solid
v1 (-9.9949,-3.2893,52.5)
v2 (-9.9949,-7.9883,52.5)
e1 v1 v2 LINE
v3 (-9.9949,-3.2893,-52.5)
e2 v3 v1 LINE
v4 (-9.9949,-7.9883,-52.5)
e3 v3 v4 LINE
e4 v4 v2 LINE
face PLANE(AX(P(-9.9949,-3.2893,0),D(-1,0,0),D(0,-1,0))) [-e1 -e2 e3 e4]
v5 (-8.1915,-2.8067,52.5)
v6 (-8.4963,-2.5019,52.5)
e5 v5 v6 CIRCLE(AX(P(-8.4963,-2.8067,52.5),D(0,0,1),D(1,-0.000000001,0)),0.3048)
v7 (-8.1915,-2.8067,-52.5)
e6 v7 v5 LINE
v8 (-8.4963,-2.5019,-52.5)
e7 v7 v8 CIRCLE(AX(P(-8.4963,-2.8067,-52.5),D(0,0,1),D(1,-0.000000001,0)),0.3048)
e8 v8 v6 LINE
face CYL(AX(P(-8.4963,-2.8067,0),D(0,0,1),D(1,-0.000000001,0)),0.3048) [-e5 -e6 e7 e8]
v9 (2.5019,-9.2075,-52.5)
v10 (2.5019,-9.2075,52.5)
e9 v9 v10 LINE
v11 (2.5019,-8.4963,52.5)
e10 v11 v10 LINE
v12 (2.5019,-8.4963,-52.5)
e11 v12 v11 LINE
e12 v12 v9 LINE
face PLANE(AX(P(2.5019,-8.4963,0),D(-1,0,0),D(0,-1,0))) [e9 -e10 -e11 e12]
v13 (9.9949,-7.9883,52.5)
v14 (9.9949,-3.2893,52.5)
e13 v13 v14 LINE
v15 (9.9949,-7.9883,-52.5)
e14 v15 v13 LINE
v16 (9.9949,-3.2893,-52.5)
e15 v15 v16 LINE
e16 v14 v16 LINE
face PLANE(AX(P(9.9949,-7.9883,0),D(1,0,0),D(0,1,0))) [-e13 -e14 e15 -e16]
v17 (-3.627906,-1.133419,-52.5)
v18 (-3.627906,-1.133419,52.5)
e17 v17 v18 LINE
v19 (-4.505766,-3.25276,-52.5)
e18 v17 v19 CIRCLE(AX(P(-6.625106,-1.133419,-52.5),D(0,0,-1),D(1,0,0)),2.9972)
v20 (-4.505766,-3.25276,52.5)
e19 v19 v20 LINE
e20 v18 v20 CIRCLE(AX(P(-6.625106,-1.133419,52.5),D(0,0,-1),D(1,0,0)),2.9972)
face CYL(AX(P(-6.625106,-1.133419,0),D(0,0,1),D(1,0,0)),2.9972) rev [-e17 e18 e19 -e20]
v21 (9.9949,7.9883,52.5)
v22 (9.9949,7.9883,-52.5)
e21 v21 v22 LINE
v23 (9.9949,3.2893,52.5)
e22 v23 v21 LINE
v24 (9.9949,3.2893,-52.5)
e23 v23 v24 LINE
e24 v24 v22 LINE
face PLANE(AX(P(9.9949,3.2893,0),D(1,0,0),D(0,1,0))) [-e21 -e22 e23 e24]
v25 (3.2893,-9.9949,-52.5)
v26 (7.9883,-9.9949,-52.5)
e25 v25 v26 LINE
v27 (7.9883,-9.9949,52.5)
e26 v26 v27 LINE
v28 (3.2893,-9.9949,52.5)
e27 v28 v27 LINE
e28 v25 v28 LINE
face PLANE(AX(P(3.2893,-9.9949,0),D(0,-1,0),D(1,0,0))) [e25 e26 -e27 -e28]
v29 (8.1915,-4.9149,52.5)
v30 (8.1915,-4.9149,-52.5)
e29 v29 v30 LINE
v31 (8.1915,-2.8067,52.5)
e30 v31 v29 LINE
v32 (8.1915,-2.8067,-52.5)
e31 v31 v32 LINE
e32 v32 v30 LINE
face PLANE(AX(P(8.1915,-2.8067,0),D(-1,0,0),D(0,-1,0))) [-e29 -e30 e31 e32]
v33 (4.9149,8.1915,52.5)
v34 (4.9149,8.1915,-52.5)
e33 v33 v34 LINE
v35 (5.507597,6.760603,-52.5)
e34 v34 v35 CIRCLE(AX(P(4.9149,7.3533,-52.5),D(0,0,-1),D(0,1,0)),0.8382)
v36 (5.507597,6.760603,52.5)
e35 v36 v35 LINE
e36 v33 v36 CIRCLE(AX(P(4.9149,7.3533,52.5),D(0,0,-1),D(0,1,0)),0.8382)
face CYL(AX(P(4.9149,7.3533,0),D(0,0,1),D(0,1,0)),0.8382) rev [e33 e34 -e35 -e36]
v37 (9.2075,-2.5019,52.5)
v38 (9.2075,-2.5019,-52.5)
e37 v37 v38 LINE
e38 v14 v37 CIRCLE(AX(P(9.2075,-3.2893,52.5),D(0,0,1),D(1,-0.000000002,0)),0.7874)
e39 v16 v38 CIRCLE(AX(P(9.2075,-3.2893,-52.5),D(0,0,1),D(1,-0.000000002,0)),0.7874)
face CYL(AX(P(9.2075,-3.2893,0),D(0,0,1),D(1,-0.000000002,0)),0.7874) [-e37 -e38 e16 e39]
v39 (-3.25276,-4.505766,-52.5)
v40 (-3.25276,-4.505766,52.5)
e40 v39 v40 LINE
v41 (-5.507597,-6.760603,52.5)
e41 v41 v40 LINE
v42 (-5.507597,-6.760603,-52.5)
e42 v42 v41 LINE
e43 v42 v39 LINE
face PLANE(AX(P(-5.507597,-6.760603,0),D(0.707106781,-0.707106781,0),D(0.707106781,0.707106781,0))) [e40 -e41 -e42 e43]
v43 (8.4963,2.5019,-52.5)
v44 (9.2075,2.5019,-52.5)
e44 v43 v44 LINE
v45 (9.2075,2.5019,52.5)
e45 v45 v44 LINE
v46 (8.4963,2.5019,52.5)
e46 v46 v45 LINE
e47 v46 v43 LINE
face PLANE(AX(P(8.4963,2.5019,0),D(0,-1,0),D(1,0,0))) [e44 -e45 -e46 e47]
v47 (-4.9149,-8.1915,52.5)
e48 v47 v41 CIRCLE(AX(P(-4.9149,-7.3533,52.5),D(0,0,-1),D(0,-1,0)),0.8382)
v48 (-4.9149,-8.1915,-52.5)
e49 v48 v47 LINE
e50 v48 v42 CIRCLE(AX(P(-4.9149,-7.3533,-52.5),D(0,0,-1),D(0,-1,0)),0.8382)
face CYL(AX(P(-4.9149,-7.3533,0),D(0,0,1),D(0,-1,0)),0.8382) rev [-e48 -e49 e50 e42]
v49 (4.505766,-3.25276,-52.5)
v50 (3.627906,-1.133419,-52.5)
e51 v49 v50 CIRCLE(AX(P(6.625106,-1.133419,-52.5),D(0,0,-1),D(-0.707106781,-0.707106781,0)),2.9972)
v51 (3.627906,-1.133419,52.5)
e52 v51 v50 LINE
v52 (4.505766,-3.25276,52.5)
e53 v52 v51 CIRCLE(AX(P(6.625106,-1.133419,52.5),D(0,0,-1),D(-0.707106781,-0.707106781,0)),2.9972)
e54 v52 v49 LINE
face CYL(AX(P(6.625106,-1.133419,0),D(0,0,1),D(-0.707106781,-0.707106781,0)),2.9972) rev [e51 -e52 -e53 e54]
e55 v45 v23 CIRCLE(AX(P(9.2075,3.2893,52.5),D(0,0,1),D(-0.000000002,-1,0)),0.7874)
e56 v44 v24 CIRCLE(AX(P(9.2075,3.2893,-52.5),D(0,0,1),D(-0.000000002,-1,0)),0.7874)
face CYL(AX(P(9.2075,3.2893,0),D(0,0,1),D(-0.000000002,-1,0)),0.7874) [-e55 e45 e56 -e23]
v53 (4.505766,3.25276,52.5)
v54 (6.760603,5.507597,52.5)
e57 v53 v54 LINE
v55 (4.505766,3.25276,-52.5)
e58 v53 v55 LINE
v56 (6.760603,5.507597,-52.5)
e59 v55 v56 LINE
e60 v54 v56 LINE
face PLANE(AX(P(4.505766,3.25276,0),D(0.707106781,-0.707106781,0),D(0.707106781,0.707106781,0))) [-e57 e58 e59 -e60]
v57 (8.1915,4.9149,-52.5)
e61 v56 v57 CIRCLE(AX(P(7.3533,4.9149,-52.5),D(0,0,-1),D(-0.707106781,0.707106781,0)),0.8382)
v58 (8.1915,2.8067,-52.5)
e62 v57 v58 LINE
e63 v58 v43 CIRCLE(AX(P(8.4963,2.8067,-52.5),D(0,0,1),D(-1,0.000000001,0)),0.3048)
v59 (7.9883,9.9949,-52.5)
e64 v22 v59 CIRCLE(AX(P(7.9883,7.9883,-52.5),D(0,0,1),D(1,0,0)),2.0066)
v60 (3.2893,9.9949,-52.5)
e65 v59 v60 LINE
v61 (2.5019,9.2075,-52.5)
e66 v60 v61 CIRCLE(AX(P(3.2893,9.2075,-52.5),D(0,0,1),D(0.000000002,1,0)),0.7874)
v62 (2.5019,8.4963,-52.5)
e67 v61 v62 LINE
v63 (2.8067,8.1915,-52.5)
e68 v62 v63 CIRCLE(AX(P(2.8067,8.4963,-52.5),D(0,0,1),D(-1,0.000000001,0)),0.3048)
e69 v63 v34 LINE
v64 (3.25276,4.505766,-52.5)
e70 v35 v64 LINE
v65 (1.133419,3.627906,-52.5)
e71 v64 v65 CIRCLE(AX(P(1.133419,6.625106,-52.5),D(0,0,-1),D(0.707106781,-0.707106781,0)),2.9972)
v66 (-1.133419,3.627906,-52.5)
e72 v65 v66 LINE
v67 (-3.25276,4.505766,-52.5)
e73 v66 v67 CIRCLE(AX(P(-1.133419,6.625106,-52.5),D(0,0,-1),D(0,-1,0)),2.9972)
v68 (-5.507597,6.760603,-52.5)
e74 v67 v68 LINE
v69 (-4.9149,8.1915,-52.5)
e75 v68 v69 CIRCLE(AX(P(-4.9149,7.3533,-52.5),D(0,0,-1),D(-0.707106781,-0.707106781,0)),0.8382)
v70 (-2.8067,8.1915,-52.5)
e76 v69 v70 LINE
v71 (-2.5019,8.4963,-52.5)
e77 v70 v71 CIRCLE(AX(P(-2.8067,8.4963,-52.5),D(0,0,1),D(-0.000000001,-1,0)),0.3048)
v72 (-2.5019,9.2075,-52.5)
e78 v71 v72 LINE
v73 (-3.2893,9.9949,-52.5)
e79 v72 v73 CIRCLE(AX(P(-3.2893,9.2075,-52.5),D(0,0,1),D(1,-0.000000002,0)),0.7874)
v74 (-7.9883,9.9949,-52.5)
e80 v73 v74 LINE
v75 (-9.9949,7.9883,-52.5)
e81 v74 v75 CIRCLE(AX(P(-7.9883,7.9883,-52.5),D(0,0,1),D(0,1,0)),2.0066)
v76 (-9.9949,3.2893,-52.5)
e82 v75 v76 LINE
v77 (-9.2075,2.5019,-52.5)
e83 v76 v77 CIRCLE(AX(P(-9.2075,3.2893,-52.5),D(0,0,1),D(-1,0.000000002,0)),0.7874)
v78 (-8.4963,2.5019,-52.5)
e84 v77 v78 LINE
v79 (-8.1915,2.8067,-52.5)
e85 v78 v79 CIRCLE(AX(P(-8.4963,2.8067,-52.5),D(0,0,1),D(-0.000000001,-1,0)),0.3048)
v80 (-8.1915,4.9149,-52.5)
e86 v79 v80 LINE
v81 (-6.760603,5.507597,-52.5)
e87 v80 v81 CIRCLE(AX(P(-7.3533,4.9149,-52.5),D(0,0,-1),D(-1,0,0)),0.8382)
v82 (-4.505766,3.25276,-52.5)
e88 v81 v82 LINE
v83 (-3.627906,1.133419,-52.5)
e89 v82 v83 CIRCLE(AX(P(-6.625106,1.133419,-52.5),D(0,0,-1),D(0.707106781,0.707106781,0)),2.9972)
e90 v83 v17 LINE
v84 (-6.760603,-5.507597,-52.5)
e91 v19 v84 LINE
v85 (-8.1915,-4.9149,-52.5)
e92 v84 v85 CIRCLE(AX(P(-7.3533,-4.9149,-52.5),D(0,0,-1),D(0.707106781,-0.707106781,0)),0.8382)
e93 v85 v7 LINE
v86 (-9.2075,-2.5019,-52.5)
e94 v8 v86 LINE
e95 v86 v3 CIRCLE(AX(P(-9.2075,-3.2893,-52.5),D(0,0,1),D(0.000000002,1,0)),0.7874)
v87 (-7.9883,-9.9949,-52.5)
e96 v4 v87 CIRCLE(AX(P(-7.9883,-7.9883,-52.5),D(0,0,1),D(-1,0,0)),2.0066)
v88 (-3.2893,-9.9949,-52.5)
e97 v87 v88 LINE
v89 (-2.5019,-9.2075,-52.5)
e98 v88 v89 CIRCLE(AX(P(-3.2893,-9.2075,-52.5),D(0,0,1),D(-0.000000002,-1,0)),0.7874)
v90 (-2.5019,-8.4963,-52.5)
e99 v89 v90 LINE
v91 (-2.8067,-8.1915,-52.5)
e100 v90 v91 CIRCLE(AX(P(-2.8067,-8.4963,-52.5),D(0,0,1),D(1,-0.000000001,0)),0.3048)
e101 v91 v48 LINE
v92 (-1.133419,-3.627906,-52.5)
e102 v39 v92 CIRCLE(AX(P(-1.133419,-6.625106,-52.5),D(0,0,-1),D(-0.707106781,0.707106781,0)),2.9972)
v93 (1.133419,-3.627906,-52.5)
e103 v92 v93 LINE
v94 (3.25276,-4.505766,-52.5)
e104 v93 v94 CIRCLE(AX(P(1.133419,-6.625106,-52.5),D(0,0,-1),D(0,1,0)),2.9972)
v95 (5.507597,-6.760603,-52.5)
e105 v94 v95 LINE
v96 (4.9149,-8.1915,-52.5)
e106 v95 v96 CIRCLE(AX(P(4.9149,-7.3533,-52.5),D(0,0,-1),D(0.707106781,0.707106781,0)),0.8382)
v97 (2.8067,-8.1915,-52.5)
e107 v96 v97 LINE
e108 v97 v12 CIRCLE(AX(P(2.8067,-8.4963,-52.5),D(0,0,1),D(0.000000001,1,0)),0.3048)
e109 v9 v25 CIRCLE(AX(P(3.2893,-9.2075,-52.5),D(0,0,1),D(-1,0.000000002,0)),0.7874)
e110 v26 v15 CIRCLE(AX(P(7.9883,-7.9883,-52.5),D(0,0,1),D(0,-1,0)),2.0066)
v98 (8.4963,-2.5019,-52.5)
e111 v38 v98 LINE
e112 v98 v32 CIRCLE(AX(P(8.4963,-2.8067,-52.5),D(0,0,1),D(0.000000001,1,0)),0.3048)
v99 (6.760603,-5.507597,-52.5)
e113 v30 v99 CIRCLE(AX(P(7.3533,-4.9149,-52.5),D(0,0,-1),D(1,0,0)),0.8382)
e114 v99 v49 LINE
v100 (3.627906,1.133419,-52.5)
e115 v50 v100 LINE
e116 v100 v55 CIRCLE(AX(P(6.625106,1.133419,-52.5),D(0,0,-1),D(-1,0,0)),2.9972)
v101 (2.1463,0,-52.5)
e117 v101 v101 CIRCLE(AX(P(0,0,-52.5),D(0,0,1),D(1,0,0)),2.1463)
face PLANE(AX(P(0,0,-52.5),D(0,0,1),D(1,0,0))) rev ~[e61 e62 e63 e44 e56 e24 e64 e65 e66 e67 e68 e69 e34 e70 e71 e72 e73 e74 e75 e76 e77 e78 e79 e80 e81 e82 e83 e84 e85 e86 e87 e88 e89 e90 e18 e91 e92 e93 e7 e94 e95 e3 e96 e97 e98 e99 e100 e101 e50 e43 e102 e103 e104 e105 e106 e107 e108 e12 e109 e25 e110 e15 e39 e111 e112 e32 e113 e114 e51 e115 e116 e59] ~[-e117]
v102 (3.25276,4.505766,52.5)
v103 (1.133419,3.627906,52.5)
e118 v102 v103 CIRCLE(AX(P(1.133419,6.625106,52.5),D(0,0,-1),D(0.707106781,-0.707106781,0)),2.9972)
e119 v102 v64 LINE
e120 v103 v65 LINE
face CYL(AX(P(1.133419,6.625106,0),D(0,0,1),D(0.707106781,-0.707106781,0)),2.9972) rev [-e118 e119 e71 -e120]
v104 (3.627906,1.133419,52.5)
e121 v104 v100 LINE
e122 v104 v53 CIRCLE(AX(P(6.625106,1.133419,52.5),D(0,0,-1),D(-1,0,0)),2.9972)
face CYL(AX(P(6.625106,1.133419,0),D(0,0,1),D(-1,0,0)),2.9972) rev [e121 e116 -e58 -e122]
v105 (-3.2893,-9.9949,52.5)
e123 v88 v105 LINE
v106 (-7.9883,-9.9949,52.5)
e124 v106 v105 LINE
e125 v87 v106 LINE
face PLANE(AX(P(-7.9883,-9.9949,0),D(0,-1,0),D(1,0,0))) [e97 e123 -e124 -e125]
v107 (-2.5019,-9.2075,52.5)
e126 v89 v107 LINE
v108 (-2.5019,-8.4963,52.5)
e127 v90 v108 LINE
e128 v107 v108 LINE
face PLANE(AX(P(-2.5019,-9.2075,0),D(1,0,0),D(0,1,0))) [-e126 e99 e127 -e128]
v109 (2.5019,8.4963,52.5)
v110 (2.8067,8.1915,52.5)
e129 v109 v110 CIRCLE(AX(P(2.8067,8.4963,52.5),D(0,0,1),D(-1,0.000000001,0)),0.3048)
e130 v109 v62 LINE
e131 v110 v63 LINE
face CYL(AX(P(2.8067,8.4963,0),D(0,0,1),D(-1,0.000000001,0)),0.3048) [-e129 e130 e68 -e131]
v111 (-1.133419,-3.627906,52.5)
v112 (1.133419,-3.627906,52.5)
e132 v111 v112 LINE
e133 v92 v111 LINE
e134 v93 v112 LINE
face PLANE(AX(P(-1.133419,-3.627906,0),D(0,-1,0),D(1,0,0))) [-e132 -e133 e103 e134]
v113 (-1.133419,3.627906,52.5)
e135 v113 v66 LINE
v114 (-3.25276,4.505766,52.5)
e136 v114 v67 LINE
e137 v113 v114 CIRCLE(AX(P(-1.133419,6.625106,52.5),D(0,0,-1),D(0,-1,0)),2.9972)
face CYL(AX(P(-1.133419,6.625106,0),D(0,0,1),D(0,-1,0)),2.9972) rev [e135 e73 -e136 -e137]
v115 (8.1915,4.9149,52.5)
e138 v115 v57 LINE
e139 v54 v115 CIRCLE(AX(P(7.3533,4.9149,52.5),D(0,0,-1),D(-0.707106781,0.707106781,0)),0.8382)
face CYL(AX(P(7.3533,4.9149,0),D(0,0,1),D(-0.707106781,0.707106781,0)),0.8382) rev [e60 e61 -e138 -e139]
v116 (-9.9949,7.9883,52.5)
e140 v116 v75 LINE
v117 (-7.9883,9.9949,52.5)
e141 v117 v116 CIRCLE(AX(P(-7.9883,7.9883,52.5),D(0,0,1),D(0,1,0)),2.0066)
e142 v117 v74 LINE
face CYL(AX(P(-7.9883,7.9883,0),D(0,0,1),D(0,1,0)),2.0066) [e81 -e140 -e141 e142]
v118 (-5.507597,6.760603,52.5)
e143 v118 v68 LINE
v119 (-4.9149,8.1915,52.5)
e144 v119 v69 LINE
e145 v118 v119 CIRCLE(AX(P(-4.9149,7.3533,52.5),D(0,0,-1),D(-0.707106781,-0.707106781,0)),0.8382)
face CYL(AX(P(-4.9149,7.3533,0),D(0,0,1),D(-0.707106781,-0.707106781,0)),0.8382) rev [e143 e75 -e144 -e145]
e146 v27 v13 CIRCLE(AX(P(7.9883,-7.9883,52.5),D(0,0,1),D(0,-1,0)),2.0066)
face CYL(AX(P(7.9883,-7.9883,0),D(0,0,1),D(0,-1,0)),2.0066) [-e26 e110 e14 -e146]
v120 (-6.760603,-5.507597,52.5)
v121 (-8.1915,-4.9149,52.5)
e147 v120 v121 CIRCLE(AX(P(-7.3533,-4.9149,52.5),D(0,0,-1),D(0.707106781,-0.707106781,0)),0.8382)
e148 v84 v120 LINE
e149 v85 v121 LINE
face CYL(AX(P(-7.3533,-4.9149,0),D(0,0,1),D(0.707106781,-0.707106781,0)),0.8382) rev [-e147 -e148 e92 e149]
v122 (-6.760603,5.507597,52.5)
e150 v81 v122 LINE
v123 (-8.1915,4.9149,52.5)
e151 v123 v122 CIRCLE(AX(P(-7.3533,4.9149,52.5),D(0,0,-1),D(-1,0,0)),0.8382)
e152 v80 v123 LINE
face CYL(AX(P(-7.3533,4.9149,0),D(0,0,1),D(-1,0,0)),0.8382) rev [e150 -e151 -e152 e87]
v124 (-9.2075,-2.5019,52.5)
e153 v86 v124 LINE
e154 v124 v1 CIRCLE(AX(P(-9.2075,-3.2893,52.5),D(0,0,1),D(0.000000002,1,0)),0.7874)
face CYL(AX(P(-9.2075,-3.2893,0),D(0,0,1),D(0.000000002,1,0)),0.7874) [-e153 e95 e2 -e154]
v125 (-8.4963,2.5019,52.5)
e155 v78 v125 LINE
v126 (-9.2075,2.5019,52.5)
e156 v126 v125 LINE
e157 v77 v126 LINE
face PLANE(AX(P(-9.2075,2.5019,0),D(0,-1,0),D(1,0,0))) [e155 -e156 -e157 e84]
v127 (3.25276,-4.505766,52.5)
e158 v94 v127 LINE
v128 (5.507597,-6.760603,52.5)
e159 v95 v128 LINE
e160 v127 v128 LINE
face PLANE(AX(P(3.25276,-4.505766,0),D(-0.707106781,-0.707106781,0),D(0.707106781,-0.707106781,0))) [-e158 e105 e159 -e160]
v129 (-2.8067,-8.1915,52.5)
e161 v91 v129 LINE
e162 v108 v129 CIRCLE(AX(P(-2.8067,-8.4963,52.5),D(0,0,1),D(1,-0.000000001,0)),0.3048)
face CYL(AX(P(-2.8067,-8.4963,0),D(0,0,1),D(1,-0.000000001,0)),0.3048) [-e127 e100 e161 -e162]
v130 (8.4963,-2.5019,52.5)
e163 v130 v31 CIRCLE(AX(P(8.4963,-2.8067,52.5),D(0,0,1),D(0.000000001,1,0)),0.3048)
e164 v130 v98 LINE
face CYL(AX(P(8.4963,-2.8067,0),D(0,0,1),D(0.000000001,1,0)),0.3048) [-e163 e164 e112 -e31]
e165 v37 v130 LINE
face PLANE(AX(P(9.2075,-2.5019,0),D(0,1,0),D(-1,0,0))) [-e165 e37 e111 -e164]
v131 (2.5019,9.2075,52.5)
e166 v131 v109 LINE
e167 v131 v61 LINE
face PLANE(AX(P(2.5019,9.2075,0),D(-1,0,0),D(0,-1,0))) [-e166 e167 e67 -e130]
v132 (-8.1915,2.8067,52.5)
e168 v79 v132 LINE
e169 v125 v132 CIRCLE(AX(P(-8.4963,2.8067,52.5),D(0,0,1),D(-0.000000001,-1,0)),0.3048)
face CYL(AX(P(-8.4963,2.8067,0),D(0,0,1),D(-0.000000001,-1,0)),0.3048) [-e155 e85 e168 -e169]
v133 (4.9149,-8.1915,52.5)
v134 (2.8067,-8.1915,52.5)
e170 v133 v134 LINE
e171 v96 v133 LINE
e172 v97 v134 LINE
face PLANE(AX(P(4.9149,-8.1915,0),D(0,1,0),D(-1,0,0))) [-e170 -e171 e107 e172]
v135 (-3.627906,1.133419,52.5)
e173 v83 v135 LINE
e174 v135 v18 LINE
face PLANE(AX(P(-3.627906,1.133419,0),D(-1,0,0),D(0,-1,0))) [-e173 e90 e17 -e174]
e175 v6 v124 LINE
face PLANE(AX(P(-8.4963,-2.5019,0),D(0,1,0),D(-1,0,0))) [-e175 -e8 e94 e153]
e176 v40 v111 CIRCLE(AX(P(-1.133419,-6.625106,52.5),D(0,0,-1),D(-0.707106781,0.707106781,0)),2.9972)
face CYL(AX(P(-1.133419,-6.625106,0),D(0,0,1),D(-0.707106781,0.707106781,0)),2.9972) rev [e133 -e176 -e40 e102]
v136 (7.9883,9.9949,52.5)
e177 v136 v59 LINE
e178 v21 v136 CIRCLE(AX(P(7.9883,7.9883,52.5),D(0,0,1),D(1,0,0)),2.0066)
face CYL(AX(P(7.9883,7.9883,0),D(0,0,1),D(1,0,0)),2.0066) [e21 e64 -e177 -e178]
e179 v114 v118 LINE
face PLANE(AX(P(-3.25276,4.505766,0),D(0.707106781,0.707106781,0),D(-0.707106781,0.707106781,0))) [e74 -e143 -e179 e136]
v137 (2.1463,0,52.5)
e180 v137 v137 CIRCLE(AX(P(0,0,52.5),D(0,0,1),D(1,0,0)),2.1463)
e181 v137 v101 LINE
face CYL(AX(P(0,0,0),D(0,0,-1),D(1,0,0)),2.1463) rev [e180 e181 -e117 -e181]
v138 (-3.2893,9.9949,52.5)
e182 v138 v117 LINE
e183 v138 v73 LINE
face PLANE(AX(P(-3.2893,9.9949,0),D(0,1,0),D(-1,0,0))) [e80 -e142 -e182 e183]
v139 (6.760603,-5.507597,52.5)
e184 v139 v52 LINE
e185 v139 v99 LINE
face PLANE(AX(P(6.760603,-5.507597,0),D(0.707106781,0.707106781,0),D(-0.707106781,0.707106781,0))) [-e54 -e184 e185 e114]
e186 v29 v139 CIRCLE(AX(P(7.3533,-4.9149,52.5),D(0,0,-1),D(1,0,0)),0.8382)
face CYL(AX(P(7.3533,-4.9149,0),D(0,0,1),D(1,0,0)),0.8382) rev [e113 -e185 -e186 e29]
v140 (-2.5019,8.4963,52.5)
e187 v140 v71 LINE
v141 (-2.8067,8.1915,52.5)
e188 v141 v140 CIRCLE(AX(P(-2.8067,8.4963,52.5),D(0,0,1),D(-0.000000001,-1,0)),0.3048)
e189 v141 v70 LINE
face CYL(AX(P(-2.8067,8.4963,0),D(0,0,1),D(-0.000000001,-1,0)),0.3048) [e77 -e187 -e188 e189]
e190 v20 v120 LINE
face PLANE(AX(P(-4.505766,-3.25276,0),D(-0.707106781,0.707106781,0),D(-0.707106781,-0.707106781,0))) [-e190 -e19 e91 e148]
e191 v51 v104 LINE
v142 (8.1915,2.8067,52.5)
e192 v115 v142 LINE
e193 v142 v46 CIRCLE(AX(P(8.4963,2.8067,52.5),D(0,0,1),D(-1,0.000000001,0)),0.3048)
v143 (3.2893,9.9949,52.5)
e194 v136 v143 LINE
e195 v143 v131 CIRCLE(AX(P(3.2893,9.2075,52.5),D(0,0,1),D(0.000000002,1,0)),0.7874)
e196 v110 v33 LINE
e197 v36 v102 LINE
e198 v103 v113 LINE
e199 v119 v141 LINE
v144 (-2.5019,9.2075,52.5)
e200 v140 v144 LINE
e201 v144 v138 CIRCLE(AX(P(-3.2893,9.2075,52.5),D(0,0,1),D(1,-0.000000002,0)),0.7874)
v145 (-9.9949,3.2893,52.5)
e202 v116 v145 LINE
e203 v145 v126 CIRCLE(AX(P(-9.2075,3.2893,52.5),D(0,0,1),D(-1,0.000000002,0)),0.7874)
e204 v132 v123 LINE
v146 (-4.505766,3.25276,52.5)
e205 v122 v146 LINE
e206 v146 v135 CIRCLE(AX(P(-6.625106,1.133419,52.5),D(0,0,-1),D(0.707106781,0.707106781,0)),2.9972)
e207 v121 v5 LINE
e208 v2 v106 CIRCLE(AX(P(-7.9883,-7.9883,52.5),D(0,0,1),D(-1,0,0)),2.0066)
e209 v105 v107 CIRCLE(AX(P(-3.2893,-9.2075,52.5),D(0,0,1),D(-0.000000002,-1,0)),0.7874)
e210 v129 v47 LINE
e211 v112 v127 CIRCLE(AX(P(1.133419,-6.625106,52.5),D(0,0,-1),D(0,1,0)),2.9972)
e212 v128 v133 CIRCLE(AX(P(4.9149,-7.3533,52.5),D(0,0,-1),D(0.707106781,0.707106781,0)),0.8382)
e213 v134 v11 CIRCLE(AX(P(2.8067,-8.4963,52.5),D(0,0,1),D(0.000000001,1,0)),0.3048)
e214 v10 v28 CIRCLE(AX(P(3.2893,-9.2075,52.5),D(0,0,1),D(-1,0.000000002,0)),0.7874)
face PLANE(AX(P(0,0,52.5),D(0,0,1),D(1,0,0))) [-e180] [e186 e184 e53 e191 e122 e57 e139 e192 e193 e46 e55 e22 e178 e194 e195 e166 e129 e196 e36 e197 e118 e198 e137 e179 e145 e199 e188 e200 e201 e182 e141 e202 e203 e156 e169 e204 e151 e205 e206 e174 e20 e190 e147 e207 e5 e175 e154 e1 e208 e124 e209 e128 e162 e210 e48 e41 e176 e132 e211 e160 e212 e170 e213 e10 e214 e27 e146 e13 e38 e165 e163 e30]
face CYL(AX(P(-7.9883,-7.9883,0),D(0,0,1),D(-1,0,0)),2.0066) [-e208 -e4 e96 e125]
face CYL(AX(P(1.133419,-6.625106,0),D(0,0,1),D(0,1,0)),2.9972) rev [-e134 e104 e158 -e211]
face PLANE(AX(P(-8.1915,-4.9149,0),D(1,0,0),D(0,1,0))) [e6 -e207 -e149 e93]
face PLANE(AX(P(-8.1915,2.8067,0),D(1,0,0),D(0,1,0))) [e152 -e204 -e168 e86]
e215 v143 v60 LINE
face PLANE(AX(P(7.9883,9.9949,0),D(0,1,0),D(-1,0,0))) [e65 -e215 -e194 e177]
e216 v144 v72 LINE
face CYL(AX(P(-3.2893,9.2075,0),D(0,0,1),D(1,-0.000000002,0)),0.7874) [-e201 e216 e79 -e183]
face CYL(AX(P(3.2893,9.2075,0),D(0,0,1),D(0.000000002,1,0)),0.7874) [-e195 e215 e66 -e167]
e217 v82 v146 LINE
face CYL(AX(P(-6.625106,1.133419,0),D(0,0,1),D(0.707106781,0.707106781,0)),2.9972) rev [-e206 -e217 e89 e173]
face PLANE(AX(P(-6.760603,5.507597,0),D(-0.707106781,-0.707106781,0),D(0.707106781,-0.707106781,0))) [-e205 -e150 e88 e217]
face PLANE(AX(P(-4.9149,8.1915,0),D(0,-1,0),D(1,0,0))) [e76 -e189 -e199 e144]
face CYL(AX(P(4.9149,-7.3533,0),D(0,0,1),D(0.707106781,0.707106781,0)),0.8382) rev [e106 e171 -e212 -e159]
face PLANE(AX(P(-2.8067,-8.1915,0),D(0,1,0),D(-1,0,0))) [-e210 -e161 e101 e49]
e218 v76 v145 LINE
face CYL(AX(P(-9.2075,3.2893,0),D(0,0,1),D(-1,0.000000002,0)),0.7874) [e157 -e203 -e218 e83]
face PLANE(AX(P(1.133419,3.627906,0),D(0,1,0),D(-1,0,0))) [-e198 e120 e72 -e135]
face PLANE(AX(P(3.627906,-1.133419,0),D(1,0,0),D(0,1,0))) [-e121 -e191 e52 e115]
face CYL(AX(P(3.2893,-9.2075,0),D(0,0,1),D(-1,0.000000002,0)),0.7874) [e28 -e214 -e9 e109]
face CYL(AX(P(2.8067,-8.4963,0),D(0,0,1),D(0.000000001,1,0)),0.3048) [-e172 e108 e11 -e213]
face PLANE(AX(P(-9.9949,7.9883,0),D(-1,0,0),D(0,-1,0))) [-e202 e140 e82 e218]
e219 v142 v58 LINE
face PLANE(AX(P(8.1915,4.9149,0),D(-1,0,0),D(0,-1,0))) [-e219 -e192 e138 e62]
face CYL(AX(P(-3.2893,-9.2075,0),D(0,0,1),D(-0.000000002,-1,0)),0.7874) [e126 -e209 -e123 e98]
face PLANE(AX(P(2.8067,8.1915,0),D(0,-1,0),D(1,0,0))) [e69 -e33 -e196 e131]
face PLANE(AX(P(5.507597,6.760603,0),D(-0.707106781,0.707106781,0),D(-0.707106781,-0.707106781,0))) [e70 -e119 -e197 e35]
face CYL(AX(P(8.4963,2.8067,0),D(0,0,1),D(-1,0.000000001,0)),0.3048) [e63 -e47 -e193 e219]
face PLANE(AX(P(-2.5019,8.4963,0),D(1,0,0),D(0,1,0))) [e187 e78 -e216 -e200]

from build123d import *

# Parameters (mm, degrees)
SKETCH1_R           = 2.1463
BOSS_EXTRUDE1_DEPTH = 52.5


with BuildPart() as part:
    # Sketch1 → Boss-Extrude1 (new body, symmetric)
    with BuildSketch(Plane.XY):
        with BuildLine():
            Line((-9.9949, 7.9883), (-9.9949, 3.2893))
            ThreePointArc((-9.9949, 3.2893), (-9.76427588, 2.73252412), (-9.2075, 2.5019))
            Line((-9.2075, 2.5019), (-8.4963, 2.5019))
            ThreePointArc((-8.4963, 2.5019), (-8.280773853, 2.591173853), (-8.1915, 2.8067))
            Line((-8.1915, 2.8067), (-8.1915, 4.9149))
            ThreePointArc((-8.1915, 4.9149), (-7.674065253, 5.689295824), (-6.760603096, 5.507596904))
            Line((-6.760603096, 5.507596904), (-4.505765747, 3.252759555))
            ThreePointArc((-4.505765747, 3.252759555), (-3.856054457, 2.280397894), (-3.627906192, 1.133419111))
            Line((-3.627906192, 1.133419111), (-3.627906192, -1.133419111))
            ThreePointArc((-3.627906192, -1.133419111), (-3.856054457, -2.280397894), (-4.505765747, -3.252759555))
            Line((-4.505765747, -3.252759555), (-6.760603096, -5.507596904))
            ThreePointArc((-6.760603096, -5.507596904), (-7.674065253, -5.689295824), (-8.1915, -4.9149))
            Line((-8.1915, -4.9149), (-8.1915, -2.8067))
            ThreePointArc((-8.1915, -2.8067), (-8.280773853, -2.591173853), (-8.4963, -2.5019))
            Line((-8.4963, -2.5019), (-9.2075, -2.5019))
            ThreePointArc((-9.2075, -2.5019), (-9.76427588, -2.73252412), (-9.9949, -3.2893))
            Line((-9.9949, -3.2893), (-9.9949, -7.9883))
            ThreePointArc((-9.9949, -7.9883), (-9.407180467, -9.407180467), (-7.9883, -9.9949))
            Line((-7.9883, -9.9949), (-3.2893, -9.9949))
            ThreePointArc((-3.2893, -9.9949), (-2.73252412, -9.76427588), (-2.5019, -9.2075))
            Line((-2.5019, -9.2075), (-2.5019, -8.4963))
            ThreePointArc((-2.5019, -8.4963), (-2.591173853, -8.280773853), (-2.8067, -8.1915))
            Line((-2.8067, -8.1915), (-4.9149, -8.1915))
            ThreePointArc((-4.9149, -8.1915), (-5.689295824, -7.674065253), (-5.507596904, -6.760603096))
            Line((-5.507596904, -6.760603096), (-3.252759555, -4.505765747))
            ThreePointArc((-3.252759555, -4.505765747), (-2.280397894, -3.856054457), (-1.133419111, -3.627906192))
            Line((-1.133419111, -3.627906192), (1.133419111, -3.627906192))
            ThreePointArc((1.133419111, -3.627906192), (2.280397894, -3.856054457), (3.252759555, -4.505765747))
            Line((3.252759555, -4.505765747), (5.507596904, -6.760603096))
            ThreePointArc((5.507596904, -6.760603096), (5.689295824, -7.674065253), (4.9149, -8.1915))
            Line((4.9149, -8.1915), (2.8067, -8.1915))
            ThreePointArc((2.8067, -8.1915), (2.591173853, -8.280773853), (2.5019, -8.4963))
            Line((2.5019, -8.4963), (2.5019, -9.2075))
            ThreePointArc((2.5019, -9.2075), (2.73252412, -9.76427588), (3.2893, -9.9949))
            Line((3.2893, -9.9949), (7.9883, -9.9949))
            ThreePointArc((7.9883, -9.9949), (9.407180467, -9.407180467), (9.9949, -7.9883))
            Line((9.9949, -7.9883), (9.9949, -3.2893))
            ThreePointArc((9.9949, -3.2893), (9.76427588, -2.73252412), (9.2075, -2.5019))
            Line((9.2075, -2.5019), (8.4963, -2.5019))
            ThreePointArc((8.4963, -2.5019), (8.280773853, -2.591173853), (8.1915, -2.8067))
            Line((8.1915, -2.8067), (8.1915, -4.9149))
            ThreePointArc((8.1915, -4.9149), (7.674065253, -5.689295824), (6.760603096, -5.507596904))
            Line((6.760603096, -5.507596904), (4.505765747, -3.252759555))
            ThreePointArc((4.505765747, -3.252759555), (3.856054457, -2.280397894), (3.627906192, -1.133419111))
            Line((3.627906192, -1.133419111), (3.627906192, 1.133419111))
            ThreePointArc((3.627906192, 1.133419111), (3.856054457, 2.280397894), (4.505765747, 3.252759555))
            Line((4.505765747, 3.252759555), (6.760603096, 5.507596904))
            ThreePointArc((6.760603096, 5.507596904), (7.674065253, 5.689295824), (8.1915, 4.9149))
            Line((8.1915, 4.9149), (8.1915, 2.8067))
            ThreePointArc((8.1915, 2.8067), (8.280773853, 2.591173853), (8.4963, 2.5019))
            Line((8.4963, 2.5019), (9.2075, 2.5019))
            ThreePointArc((9.2075, 2.5019), (9.76427588, 2.73252412), (9.9949, 3.2893))
            Line((9.9949, 3.2893), (9.9949, 7.9883))
            ThreePointArc((9.9949, 7.9883), (9.407180467, 9.407180467), (7.9883, 9.9949))
            Line((7.9883, 9.9949), (3.2893, 9.9949))
            ThreePointArc((3.2893, 9.9949), (2.73252412, 9.76427588), (2.5019, 9.2075))
            Line((2.5019, 9.2075), (2.5019, 8.4963))
            ThreePointArc((2.5019, 8.4963), (2.591173853, 8.280773853), (2.8067, 8.1915))
            Line((2.8067, 8.1915), (4.9149, 8.1915))
            ThreePointArc((4.9149, 8.1915), (5.689295824, 7.674065253), (5.507596904, 6.760603096))
            Line((5.507596904, 6.760603096), (3.252759555, 4.505765747))
            ThreePointArc((3.252759555, 4.505765747), (2.280397894, 3.856054457), (1.133419111, 3.627906192))
            Line((1.133419111, 3.627906192), (-1.133419111, 3.627906192))
            ThreePointArc((-1.133419111, 3.627906192), (-2.280397894, 3.856054457), (-3.252759555, 4.505765747))
            Line((-3.252759555, 4.505765747), (-5.507596904, 6.760603096))
            ThreePointArc((-5.507596904, 6.760603096), (-5.689295824, 7.674065253), (-4.9149, 8.1915))
            Line((-4.9149, 8.1915), (-2.8067, 8.1915))
            ThreePointArc((-2.8067, 8.1915), (-2.591173853, 8.280773853), (-2.5019, 8.4963))
            Line((-2.5019, 8.4963), (-2.5019, 9.2075))
            ThreePointArc((-2.5019, 9.2075), (-2.73252412, 9.76427588), (-3.2893, 9.9949))
            Line((-3.2893, 9.9949), (-7.9883, 9.9949))
            ThreePointArc((-7.9883, 9.9949), (-9.407180467, 9.407180467), (-9.9949, 7.9883))
        make_face()
        Circle(SKETCH1_R, mode=Mode.SUBTRACT)
    extrude(amount=BOSS_EXTRUDE1_DEPTH, both=True)


solid = part.part
